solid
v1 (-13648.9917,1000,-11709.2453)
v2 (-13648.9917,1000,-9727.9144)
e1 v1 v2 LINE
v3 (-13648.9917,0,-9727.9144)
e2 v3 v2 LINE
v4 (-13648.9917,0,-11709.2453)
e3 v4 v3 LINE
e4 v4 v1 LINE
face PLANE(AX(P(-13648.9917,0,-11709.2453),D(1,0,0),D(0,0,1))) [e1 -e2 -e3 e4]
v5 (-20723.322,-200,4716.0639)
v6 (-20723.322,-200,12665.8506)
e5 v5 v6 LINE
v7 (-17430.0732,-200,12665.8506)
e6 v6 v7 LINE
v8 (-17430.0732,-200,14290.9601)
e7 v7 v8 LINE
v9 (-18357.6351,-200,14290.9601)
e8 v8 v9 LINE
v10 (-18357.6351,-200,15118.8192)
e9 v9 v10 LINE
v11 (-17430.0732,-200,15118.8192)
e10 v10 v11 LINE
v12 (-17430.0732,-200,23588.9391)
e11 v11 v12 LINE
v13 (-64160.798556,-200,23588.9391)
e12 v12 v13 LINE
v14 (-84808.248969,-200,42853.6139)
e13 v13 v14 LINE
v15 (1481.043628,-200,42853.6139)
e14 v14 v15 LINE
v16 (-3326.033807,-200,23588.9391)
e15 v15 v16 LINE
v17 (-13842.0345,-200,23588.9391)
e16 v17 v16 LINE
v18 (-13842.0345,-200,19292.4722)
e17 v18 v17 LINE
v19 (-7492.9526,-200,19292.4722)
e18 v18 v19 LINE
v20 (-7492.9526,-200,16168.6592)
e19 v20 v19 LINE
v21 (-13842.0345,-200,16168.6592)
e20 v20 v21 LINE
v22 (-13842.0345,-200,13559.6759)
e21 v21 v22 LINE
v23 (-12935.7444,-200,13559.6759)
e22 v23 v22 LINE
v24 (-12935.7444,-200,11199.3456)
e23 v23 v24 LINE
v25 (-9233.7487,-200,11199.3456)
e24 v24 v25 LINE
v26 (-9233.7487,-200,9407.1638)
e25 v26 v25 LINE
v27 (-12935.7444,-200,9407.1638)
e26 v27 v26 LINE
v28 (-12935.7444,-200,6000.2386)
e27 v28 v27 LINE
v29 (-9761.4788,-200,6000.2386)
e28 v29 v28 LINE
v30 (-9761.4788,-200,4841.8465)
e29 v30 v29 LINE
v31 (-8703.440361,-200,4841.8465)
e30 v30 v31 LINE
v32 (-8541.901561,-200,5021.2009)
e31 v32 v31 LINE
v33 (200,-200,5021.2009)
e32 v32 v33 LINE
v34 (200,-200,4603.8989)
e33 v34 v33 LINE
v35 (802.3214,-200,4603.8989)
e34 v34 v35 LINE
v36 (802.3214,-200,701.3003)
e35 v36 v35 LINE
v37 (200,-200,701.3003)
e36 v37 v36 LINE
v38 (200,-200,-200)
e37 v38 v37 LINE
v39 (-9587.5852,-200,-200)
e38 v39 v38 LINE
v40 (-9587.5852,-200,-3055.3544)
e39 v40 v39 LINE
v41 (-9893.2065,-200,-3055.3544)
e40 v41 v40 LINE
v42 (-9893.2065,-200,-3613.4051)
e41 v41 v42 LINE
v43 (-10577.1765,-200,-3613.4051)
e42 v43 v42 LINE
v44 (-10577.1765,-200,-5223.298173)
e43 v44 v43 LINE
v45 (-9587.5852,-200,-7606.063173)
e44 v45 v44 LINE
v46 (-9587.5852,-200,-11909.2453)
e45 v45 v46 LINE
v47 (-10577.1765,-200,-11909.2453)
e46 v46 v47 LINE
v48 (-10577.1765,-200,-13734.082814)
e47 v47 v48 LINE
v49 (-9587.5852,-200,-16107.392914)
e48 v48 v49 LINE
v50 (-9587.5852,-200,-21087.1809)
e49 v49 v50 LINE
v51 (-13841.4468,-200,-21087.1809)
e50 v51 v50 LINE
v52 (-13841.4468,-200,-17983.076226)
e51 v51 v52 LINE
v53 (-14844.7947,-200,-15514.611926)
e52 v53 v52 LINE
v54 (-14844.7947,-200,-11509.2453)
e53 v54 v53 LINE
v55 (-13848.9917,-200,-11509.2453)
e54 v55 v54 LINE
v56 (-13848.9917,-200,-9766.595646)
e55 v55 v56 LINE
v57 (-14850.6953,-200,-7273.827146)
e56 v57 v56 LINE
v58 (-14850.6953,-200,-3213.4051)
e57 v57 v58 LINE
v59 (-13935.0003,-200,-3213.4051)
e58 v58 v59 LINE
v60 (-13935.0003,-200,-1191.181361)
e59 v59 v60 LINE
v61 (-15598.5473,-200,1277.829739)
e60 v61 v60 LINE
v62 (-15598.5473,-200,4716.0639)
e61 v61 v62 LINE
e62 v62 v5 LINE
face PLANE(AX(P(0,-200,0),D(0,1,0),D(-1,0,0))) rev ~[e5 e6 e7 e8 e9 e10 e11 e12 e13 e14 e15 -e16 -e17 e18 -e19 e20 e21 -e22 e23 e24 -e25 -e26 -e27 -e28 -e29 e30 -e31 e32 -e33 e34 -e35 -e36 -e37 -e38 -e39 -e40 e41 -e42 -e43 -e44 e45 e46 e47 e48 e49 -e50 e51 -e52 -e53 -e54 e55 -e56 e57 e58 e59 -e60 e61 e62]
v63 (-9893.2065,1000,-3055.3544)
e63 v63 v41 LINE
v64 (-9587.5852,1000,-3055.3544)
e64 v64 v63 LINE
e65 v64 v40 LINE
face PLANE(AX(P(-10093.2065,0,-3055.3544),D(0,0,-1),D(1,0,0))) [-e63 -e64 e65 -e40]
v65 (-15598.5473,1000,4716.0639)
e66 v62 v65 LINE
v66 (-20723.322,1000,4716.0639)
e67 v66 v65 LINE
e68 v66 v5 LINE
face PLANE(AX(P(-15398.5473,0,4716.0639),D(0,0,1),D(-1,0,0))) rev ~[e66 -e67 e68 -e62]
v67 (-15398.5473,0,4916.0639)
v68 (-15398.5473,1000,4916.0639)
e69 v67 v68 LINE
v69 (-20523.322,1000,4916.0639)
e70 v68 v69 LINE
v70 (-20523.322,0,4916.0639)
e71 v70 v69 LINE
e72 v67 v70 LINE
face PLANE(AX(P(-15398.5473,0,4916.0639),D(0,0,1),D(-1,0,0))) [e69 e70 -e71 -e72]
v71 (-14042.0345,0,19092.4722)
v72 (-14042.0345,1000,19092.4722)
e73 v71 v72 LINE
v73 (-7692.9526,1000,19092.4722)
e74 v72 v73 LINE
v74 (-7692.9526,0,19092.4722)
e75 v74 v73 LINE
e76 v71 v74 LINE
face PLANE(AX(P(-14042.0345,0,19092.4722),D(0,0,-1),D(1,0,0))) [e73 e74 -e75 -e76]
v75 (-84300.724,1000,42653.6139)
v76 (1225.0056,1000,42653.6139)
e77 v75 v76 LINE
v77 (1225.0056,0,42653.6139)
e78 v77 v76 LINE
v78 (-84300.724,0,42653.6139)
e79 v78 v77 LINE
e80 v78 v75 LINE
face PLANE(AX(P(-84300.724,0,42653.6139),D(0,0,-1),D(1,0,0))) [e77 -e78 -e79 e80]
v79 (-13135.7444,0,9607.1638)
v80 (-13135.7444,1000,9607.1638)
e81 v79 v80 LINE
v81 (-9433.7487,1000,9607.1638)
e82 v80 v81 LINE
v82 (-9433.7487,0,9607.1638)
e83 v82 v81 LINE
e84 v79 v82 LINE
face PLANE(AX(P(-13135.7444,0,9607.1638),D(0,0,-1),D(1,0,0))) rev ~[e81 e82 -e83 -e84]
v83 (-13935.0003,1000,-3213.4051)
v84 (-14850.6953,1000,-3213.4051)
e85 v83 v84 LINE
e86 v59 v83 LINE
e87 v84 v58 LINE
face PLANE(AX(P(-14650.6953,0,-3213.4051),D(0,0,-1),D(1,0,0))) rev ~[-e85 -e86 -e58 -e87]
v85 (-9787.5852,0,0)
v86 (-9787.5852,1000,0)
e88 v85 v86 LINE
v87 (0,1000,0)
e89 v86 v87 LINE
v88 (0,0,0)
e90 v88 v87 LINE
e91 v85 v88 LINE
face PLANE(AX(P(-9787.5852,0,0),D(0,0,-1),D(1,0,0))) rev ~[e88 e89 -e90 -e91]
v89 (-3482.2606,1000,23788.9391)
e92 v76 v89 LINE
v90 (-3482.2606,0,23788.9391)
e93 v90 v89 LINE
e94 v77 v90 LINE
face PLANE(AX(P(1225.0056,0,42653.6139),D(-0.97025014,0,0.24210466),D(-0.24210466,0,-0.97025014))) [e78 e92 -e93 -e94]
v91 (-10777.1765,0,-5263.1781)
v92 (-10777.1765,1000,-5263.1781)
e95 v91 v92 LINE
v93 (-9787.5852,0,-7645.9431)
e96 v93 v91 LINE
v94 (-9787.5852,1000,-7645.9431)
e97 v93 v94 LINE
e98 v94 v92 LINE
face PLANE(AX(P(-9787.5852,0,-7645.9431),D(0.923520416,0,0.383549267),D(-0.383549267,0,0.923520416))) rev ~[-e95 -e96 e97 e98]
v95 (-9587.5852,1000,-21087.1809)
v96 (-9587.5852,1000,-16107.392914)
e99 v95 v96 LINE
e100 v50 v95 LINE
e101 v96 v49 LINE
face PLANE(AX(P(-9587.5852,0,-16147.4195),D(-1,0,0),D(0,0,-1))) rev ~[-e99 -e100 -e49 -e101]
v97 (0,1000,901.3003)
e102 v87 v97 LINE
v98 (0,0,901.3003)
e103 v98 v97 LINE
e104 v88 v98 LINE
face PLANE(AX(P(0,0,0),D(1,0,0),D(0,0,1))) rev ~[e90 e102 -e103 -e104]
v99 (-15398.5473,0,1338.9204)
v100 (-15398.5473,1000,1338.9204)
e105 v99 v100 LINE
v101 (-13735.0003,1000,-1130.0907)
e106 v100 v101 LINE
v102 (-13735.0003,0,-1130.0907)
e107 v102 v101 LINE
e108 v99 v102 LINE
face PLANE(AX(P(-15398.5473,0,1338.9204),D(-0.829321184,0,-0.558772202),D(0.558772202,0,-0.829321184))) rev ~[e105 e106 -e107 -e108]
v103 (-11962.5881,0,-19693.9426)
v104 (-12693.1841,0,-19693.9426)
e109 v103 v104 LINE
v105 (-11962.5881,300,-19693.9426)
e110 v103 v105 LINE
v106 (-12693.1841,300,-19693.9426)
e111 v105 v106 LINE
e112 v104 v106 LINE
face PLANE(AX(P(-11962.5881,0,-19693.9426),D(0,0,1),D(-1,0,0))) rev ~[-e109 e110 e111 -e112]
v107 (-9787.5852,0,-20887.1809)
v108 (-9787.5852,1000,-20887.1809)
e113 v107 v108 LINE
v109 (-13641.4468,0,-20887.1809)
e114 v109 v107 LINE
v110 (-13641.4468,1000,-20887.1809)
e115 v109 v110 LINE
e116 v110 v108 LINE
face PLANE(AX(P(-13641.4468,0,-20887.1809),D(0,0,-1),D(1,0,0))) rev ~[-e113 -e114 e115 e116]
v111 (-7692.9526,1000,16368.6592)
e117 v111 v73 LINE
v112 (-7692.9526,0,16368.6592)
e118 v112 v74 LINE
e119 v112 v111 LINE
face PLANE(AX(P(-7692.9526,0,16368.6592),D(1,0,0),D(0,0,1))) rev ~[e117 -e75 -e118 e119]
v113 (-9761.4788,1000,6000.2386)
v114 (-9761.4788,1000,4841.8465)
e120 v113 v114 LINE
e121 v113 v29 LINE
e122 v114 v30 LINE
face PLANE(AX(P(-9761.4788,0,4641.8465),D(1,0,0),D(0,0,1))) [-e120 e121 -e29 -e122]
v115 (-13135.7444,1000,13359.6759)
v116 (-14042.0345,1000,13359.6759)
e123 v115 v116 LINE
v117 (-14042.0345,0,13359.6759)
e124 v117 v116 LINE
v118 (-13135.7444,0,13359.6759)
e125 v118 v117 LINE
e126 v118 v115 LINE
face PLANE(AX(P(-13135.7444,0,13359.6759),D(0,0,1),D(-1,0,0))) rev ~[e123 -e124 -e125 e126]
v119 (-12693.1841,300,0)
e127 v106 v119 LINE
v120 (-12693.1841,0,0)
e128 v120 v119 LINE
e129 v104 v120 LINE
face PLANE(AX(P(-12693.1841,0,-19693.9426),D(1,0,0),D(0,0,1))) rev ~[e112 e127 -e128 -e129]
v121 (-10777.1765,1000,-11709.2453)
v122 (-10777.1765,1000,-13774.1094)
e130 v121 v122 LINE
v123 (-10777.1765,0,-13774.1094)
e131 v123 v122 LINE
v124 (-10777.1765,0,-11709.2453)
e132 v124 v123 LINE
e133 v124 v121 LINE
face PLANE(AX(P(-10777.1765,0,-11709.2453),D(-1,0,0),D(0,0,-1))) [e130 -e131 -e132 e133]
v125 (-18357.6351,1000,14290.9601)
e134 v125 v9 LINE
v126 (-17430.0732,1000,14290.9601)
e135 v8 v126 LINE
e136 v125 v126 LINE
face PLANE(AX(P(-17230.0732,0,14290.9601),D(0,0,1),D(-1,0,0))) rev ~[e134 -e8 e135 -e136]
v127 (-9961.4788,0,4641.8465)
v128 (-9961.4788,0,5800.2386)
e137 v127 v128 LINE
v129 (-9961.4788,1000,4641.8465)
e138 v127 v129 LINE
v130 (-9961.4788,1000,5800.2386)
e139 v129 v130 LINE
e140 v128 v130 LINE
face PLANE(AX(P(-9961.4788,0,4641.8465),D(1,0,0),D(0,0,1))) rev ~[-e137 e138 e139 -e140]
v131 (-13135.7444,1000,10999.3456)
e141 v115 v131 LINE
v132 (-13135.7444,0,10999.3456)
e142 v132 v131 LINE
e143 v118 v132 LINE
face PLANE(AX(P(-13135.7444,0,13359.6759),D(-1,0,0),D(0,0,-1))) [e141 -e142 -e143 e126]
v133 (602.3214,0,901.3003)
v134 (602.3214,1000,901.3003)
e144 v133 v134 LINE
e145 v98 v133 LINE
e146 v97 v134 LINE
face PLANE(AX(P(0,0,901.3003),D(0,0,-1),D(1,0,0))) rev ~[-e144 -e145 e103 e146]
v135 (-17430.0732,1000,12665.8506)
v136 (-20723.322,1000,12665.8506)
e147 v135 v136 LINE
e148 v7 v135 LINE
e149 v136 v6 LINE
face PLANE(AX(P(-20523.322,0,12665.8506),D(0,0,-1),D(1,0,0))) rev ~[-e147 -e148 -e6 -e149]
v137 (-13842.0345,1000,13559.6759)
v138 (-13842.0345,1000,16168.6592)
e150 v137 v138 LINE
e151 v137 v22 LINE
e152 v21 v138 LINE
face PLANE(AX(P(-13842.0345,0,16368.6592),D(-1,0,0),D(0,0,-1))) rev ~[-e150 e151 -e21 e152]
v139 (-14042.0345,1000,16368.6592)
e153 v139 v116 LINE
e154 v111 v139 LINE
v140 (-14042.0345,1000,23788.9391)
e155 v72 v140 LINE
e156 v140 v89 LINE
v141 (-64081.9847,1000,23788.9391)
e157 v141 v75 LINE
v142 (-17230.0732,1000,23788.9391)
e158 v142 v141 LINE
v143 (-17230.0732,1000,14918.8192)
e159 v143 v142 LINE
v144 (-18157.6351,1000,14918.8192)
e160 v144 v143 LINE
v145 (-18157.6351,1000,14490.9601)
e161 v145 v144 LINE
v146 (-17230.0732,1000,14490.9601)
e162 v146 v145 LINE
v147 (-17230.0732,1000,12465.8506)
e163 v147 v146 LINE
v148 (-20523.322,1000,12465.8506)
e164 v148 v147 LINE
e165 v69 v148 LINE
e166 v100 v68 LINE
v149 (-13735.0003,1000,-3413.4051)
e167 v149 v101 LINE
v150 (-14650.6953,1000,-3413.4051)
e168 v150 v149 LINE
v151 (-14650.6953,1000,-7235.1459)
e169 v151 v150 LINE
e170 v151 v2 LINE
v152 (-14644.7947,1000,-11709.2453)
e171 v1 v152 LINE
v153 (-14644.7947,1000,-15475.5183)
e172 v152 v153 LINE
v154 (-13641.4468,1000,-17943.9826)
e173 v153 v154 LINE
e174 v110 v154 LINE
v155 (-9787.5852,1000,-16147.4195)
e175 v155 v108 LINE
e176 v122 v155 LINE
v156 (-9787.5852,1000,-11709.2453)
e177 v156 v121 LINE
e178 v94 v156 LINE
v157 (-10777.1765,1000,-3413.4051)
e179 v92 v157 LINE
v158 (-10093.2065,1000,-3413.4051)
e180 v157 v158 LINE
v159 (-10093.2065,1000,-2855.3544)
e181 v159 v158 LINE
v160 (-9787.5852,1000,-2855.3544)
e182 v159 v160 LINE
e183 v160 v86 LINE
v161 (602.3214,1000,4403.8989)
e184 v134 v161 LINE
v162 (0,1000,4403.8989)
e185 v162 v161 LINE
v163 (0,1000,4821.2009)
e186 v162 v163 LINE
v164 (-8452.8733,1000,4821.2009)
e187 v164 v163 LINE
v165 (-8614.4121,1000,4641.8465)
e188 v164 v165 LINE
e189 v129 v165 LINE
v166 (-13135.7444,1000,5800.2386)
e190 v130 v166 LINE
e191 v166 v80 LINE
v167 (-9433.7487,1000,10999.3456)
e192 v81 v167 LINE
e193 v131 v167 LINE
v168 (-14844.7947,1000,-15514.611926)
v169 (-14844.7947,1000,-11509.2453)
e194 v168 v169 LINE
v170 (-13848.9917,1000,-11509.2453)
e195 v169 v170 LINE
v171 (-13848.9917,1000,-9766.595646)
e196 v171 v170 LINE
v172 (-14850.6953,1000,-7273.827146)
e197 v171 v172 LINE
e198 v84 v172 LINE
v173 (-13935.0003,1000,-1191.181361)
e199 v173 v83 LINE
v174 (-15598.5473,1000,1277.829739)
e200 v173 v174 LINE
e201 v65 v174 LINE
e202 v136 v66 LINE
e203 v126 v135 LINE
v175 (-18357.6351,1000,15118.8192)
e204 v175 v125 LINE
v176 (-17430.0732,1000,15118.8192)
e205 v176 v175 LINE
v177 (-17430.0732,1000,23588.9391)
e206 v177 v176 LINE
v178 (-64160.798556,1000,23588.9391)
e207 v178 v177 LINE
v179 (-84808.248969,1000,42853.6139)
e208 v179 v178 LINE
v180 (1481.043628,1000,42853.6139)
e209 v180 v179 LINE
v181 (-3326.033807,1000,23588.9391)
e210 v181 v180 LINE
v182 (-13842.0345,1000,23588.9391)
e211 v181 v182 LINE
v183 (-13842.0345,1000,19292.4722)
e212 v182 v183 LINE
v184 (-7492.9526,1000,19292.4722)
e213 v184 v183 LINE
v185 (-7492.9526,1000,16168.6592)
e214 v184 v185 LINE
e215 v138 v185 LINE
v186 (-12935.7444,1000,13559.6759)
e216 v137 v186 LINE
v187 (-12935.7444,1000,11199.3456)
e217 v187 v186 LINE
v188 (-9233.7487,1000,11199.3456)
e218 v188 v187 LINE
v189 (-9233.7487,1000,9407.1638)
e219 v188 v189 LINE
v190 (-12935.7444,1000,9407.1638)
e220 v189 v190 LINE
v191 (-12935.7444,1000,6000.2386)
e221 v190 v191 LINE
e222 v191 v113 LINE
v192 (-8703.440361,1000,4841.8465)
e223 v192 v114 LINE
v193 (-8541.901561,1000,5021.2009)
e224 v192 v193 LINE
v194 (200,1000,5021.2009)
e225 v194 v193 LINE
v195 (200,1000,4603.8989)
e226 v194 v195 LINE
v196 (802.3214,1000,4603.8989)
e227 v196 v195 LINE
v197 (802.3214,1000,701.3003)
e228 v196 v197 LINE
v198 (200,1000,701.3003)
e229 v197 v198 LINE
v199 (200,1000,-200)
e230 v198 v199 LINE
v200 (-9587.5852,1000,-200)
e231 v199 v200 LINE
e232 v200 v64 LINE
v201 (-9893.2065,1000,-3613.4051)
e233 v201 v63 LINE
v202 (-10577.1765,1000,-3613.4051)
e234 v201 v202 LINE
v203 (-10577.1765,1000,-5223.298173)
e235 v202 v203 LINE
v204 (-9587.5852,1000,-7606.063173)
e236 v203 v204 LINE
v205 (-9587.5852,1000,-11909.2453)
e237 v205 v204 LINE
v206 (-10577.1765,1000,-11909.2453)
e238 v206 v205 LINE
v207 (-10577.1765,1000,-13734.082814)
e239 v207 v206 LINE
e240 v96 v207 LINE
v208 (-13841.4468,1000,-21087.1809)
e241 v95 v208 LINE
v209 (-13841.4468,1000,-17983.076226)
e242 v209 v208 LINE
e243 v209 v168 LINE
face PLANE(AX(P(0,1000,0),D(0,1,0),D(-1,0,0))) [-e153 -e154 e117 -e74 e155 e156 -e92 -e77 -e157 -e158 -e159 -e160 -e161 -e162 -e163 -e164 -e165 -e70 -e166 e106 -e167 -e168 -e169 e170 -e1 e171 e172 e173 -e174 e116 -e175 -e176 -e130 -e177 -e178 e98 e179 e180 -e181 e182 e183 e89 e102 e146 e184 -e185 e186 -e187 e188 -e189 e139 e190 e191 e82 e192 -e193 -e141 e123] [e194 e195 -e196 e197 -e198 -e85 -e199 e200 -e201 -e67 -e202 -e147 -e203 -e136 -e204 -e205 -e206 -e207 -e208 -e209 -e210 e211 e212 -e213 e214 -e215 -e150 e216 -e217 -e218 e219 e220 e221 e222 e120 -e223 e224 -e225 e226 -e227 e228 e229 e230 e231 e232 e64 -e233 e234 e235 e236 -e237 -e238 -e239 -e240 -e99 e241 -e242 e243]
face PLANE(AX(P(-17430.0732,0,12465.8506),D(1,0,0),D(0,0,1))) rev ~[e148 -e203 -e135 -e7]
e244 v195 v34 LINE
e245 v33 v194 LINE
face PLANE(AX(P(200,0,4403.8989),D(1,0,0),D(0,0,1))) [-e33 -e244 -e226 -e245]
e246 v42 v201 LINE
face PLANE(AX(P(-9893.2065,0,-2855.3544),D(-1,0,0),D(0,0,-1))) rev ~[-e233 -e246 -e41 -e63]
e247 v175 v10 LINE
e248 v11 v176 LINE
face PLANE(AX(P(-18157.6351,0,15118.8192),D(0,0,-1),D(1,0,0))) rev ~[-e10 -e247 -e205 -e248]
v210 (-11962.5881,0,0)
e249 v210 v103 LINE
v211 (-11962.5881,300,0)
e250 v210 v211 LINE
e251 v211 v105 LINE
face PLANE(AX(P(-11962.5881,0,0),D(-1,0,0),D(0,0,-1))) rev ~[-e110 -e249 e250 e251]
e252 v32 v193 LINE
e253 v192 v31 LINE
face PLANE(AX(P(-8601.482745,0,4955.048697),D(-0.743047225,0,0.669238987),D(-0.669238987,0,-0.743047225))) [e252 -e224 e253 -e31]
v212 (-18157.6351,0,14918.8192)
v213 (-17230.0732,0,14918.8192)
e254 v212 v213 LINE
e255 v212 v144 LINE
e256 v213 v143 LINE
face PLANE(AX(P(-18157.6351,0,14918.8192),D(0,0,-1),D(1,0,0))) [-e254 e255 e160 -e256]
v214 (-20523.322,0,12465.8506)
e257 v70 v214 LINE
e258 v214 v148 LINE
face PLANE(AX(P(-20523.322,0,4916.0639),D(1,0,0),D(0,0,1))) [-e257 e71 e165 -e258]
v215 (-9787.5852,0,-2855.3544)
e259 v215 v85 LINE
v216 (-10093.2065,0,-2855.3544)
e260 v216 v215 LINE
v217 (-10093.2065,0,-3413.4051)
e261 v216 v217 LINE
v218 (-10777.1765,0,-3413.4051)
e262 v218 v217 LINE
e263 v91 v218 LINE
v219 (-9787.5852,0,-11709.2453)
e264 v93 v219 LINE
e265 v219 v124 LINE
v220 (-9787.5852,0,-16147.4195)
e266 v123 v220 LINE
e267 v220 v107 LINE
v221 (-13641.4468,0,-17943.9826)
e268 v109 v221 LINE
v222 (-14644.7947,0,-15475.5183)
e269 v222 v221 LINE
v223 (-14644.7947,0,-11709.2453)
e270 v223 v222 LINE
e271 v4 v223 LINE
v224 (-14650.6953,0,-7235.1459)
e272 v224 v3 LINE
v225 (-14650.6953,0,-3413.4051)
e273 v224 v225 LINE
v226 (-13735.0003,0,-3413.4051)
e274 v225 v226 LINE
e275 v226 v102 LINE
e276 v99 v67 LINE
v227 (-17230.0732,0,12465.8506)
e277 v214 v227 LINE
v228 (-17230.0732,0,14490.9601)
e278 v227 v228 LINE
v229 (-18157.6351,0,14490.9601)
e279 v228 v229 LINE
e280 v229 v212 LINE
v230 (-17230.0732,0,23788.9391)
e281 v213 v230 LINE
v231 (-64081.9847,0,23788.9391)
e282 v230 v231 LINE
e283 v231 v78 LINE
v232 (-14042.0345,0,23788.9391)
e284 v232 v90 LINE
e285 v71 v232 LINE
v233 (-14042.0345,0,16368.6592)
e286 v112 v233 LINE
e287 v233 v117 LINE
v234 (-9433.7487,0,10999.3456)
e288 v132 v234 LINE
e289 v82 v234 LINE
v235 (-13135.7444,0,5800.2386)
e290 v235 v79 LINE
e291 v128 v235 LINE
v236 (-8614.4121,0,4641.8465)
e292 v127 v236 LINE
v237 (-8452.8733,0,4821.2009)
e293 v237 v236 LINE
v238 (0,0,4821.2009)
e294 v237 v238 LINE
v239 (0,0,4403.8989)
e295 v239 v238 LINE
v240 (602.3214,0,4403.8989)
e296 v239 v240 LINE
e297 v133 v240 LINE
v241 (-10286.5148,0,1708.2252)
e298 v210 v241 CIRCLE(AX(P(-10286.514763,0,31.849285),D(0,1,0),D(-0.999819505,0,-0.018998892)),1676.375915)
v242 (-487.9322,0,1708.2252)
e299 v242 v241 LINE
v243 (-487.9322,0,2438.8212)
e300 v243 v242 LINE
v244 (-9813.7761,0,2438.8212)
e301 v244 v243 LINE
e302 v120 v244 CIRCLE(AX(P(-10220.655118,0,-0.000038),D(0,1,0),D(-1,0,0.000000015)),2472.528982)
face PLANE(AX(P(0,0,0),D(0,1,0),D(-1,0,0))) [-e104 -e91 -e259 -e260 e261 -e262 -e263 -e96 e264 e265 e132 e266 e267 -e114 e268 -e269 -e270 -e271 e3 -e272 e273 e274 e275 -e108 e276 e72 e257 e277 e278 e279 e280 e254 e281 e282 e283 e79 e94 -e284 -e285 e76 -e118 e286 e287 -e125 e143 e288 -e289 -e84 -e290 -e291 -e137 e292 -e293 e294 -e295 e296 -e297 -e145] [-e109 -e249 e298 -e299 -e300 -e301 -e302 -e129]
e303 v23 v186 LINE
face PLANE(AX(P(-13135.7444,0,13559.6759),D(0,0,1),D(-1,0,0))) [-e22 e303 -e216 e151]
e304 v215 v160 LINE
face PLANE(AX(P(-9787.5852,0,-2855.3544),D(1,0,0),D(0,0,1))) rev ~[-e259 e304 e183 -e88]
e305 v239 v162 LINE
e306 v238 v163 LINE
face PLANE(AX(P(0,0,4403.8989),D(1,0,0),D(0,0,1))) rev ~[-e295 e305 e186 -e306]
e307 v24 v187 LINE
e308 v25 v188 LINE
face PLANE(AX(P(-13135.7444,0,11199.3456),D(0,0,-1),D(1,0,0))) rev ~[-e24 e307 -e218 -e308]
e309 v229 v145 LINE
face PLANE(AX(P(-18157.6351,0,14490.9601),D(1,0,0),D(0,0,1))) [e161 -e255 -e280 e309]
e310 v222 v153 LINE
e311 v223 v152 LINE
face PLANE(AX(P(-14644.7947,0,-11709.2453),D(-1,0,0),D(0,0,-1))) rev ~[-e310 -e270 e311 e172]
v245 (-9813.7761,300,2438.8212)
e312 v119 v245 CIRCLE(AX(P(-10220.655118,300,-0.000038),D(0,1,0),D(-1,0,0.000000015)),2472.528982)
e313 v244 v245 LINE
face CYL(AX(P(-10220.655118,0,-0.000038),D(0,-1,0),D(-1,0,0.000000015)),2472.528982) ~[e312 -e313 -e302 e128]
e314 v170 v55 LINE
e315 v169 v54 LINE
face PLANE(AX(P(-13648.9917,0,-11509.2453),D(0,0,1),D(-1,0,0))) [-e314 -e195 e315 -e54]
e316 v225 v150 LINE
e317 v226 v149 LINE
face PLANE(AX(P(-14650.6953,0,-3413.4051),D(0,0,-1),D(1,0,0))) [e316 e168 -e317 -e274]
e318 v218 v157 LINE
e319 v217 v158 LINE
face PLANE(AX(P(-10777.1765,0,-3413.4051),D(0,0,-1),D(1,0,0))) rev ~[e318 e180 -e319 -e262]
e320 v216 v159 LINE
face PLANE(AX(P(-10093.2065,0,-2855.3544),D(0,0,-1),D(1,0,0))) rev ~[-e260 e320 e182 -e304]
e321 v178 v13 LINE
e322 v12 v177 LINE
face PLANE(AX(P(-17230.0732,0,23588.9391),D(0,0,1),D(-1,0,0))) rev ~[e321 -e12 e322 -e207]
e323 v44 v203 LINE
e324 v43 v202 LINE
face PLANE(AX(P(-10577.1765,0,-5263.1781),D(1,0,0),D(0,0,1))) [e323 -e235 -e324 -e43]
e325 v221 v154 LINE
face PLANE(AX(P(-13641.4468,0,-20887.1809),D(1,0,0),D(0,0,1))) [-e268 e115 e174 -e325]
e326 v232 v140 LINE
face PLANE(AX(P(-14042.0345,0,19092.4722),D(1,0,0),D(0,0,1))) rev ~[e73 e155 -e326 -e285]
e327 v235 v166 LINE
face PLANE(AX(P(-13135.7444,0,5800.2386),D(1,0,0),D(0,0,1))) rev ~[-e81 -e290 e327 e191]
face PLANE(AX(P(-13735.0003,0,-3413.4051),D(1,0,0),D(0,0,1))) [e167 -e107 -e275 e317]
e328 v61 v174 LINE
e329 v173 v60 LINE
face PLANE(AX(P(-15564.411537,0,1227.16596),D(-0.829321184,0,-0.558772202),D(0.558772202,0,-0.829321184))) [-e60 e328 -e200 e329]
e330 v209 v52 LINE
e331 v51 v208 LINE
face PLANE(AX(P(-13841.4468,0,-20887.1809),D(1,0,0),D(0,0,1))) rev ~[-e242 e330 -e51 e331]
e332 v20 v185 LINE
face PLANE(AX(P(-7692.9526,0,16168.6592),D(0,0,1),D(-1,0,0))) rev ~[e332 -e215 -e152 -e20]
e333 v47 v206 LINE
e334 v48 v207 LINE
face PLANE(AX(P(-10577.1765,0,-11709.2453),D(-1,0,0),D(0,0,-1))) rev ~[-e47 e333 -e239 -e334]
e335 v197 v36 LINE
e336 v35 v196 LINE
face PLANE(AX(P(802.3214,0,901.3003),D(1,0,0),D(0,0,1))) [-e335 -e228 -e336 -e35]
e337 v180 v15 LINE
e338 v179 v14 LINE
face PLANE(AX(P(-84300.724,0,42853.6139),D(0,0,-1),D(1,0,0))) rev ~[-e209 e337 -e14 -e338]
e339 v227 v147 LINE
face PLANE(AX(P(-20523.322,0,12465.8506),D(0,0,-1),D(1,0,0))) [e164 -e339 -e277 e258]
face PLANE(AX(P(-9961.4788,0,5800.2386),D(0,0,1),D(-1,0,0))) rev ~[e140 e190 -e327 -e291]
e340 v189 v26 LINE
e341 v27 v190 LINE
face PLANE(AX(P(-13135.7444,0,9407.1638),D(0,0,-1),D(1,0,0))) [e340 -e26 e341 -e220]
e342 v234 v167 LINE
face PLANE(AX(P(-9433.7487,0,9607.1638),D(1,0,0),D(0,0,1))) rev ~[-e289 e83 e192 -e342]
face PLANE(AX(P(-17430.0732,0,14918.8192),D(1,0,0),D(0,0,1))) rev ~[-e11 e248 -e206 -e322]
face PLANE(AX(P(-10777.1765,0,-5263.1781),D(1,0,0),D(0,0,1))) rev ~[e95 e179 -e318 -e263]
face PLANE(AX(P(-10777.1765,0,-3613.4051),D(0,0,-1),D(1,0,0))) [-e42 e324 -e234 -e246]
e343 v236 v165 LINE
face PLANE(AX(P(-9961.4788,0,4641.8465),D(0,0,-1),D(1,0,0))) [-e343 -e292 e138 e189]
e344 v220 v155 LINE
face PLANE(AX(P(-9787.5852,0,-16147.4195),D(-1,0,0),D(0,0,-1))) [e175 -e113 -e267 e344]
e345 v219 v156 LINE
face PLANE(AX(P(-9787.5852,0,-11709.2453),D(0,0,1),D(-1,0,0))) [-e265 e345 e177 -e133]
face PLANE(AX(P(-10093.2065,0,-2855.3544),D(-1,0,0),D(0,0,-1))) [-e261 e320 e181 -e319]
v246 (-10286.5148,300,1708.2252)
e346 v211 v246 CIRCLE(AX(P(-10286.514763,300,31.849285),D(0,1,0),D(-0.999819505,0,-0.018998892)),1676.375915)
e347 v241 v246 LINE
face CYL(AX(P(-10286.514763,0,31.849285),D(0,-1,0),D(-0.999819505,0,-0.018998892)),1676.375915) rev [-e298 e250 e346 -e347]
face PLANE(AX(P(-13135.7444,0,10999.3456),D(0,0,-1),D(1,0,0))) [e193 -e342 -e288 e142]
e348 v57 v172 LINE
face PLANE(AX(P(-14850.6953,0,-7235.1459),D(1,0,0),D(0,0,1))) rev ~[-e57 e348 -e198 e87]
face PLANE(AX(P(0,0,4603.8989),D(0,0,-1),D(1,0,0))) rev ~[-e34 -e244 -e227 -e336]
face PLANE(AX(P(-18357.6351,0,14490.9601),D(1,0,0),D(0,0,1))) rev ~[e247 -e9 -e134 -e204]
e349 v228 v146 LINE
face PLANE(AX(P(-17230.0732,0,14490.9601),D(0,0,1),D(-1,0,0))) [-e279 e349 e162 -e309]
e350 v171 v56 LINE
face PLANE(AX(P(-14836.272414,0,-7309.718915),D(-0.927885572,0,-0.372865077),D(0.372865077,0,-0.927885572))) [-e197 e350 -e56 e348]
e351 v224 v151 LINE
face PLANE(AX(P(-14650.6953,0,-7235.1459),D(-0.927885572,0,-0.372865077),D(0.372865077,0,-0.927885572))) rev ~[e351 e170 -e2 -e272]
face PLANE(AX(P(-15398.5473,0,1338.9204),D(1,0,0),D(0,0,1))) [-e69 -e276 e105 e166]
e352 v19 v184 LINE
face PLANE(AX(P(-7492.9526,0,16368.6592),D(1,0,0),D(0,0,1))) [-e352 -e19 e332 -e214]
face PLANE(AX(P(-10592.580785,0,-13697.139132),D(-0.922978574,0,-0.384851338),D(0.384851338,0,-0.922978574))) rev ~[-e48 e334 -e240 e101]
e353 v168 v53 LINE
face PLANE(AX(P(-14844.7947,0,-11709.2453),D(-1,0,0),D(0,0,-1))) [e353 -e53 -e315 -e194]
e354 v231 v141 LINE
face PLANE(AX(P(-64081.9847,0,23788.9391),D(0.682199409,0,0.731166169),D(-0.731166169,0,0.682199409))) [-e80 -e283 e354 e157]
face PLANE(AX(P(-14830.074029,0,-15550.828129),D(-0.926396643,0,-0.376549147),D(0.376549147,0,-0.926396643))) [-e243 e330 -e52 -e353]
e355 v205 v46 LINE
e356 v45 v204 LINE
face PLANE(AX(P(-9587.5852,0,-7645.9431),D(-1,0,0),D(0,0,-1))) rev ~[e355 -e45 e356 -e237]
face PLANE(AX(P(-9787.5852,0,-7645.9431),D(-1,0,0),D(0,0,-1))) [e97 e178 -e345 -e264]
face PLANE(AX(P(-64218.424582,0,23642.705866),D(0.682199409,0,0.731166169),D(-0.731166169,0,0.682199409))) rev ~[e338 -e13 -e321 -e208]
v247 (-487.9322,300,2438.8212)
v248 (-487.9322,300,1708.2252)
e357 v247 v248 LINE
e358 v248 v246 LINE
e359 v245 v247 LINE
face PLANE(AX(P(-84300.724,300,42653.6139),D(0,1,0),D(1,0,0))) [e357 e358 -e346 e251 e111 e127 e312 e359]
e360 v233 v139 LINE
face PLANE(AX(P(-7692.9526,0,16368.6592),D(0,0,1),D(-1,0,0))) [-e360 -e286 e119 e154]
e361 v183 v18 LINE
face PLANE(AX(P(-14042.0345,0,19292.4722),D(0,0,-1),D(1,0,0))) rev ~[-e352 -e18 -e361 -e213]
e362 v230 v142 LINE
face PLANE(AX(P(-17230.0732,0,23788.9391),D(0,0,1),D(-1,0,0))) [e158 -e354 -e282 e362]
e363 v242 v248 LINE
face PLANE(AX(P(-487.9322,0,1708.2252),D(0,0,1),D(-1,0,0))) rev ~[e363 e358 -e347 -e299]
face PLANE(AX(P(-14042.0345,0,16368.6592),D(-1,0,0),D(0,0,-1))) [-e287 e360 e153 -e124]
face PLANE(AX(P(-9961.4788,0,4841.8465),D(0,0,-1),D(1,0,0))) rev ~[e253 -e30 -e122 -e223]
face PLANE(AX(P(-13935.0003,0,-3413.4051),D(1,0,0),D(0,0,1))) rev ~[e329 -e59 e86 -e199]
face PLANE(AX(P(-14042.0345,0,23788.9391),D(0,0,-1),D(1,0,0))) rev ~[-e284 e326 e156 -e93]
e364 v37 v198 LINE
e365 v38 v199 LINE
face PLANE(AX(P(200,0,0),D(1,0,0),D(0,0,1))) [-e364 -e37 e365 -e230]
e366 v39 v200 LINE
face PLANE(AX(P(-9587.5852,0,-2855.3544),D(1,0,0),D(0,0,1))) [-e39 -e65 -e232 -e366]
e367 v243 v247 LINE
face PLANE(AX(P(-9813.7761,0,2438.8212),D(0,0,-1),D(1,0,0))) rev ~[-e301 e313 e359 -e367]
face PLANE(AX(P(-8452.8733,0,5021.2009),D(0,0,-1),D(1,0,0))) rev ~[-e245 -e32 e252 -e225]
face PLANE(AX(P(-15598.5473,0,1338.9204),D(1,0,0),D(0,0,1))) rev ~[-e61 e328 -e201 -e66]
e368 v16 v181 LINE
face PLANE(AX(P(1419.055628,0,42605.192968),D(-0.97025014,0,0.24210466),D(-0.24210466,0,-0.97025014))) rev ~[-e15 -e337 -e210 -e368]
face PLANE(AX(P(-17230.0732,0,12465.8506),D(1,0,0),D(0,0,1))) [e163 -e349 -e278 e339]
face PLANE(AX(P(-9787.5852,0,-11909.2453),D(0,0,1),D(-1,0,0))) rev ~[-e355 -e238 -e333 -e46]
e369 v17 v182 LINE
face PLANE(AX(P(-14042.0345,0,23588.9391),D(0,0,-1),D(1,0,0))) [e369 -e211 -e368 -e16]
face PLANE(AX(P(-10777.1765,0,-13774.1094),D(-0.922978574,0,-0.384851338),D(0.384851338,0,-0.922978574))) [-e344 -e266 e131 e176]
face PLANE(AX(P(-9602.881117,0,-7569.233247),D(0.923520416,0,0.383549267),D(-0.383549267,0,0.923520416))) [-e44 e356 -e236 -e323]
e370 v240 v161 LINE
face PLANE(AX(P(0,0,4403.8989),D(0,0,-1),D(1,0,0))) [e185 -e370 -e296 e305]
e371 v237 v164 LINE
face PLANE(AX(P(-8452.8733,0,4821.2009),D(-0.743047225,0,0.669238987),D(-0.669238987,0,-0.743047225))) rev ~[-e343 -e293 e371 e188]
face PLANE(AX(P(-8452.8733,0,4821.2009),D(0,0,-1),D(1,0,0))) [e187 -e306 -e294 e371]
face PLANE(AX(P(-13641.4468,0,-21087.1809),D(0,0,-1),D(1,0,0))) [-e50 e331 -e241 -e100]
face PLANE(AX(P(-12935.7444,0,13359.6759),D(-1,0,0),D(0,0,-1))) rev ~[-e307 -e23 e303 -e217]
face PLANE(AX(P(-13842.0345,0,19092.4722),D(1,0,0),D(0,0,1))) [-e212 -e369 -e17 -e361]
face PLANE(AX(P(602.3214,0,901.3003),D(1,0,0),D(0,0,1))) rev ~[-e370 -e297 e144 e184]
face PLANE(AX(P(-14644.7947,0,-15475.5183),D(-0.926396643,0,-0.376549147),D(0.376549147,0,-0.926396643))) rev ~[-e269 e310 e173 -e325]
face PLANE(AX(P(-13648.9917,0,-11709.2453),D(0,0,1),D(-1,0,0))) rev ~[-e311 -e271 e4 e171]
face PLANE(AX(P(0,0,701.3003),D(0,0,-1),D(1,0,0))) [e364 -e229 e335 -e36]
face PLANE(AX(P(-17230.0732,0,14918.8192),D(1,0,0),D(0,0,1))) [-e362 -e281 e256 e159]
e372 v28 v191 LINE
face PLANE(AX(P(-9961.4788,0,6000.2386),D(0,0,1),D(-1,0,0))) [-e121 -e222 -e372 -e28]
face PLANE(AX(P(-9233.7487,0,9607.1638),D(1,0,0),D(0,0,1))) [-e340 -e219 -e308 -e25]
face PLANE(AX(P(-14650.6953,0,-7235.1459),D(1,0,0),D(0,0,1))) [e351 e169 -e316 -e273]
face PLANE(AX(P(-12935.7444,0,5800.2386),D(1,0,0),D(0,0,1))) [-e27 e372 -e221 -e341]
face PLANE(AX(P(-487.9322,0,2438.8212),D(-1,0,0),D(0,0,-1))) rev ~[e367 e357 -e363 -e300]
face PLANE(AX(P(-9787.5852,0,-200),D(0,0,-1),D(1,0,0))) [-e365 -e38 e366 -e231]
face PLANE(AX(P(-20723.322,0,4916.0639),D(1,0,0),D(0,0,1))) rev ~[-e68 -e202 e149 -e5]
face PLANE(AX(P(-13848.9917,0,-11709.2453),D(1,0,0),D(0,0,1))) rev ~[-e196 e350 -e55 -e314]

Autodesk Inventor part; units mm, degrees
ref_plane "YZ Plane" through (0, 0, 0) normal (1, 0, 0) x (0, 1, 0)
ref_plane "XZ Plane" through (0, 0, 0) normal (0, 1, 0) x (-1, 0, 0)
ref_plane "XY Plane" through (0, 0, 0) normal (0, 0, 1) x (1, 0, 0)
sketch "Sketch1" plane through (0, 0, 0) normal (0, 1, 0) x (-1, 0, 0)
  line L0 (0, 0) -> (0, 901.3003)
  line L1 (9787.5852, 0) -> (0, 0)
  line L2 (0, 901.3003) -> (-602.3214, 901.3003)
  line L3 (-602.3214, 901.3003) -> (-602.3214, 4403.8989)
  line L4 (0, 4403.8989) -> (-602.3214, 4403.8989)
  line L5 (0, 4403.8989) -> (0, 4821.2009)
  line L6 (8452.8733, 4821.2009) -> (0, 4821.2009)
  line L7 (8452.8733, 4821.2009) -> (8614.4121, 4641.8465)
  line L8 (9961.4788, 4641.8465) -> (8614.4121, 4641.8465)
  line L9 (9961.4788, 4641.8465) -> (9961.4788, 5800.2386)
  line L10 (9961.4788, 5800.2386) -> (13135.7444, 5800.2386)
  line L11 (13135.7444, 5800.2386) -> (13135.7444, 9607.1638)
  line L12 (13135.7444, 5800.2386) -> (9961.4788, 5800.2386)
  line L13 (13135.7444, 9607.1638) -> (13135.7444, 5800.2386)
  line L14 (13135.7444, 9607.1638) -> (9433.7487, 9607.1638)
  line L15 (9433.7487, 9607.1638) -> (9433.7487, 10999.3456)
  line L16 (13135.7444, 10999.3456) -> (9433.7487, 10999.3456)
  line L17 (13135.7444, 13359.6759) -> (13135.7444, 10999.3456)
  line L18 (13135.7444, 13359.6759) -> (14042.0345, 13359.6759)
  line L19 (14042.0345, 16368.6592) -> (14042.0345, 13359.6759)
  line L20 (7692.9526, 16368.6592) -> (14042.0345, 16368.6592)
  line L21 (7692.9526, 16368.6592) -> (7692.9526, 19092.4722)
  line L22 (14042.0345, 19092.4722) -> (7692.9526, 19092.4722)
  line L23 (14042.0345, 19092.4722) -> (14042.0345, 23788.9391)
  line L24 (14042.0345, 23788.9391) -> (3482.2606, 23788.9391)
  line L25 (-1225.0056, 42653.6139) -> (3482.2606, 23788.9391)
  line L26 (84300.724, 42653.6139) -> (-1225.0056, 42653.6139)
  line L27 (64081.9847, 23788.9391) -> (84300.724, 42653.6139)
  line L28 (17230.0732, 23788.9391) -> (64081.9847, 23788.9391)
  line L29 (17230.0732, 14918.8192) -> (17230.0732, 23788.9391)
  line L30 (18157.6351, 14918.8192) -> (17230.0732, 14918.8192)
  line L31 (18157.6351, 14490.9601) -> (18157.6351, 14918.8192)
  line L32 (17230.0732, 14490.9601) -> (18157.6351, 14490.9601)
  line L33 (17230.0732, 12465.8506) -> (17230.0732, 14490.9601)
  line L34 (20523.322, 12465.8506) -> (17230.0732, 12465.8506)
  line L35 (20523.322, 4916.0639) -> (20523.322, 12465.8506)
  line L36 (15398.5473, 4916.0639) -> (20523.322, 4916.0639)
  line L37 (15398.5473, 1338.9204) -> (15398.5473, 4916.0639)
  line L38 (15398.5473, 1338.9204) -> (13735.0003, -1130.0907)
  line L39 (13735.0003, -3413.4051) -> (13735.0003, -1130.0907)
  line L40 (14650.6953, -3413.4051) -> (13735.0003, -3413.4051)
  line L41 (14650.6953, -7235.1459) -> (14650.6953, -3413.4051)
  line L42 (14650.6953, -7235.1459) -> (13648.9917, -9727.9144)
  line L43 (13648.9917, -11709.2453) -> (13648.9917, -9727.9144)
  line L44 (13648.9917, -11709.2453) -> (14644.7947, -11709.2453)
  line L45 (14644.7947, -11709.2453) -> (14644.7947, -15475.5183)
  line L46 (14644.7947, -15475.5183) -> (13641.4468, -17943.9826)
  line L47 (13641.4468, -20887.1809) -> (13641.4468, -17943.9826)
  line L48 (13641.4468, -20887.1809) -> (9787.5852, -20887.1809)
  line L49 (9787.5852, -16147.4195) -> (9787.5852, -20887.1809)
  line L50 (10777.1765, -13774.1094) -> (9787.5852, -16147.4195)
  line L51 (10777.1765, -11709.2453) -> (10777.1765, -13774.1094)
  line L52 (9787.5852, -11709.2453) -> (10777.1765, -11709.2453)
  line L53 (9787.5852, -7645.9431) -> (9787.5852, -11709.2453)
  line L54 (9787.5852, -7645.9431) -> (10777.1765, -5263.1781)
  line L55 (10777.1765, -5263.1781) -> (10777.1765, -3413.4051)
  line L56 (10777.1765, -3413.4051) -> (10093.2065, -3413.4051)
  line L57 (10093.2065, -2855.3544) -> (10093.2065, -3413.4051)
  line L58 (10093.2065, -2855.3544) -> (9787.5852, -2855.3544)
  line L59 (9787.5852, -2855.3544) -> (9787.5852, 0)
extrude "Extrusion1" add sketch "Sketch1" along normal blind 1000
shell "Shell1" thickness 200 outward yes removed faces 1 at (-49052.5677, 1000, 36365.389)
sketch "Sketch2" plane through (-84300.724, 0, 42653.6139) normal (0, 1, 0) x (1, 0, 0)
  line L0 (83812.7918, 40945.3887) -> (74014.2092, 40945.3887)
  arc A0 (72338.1359, 42653.6139) -> (74014.2092, 40945.3887) centre (74014.2092, 42621.7646) ccw
  line L1 (72338.1359, 42653.6139) -> (72338.1359, 62347.5565)
  line L2 (72338.1359, 62347.5565) -> (71607.5399, 62347.5565)
  line L3 (71607.5399, 62347.5565) -> (71607.5399, 42653.6139)
  arc A1 (71607.5399, 42653.6139) -> (74486.9479, 40214.7927) centre (74080.0688, 42653.6139) ccw
  line L4 (74486.9479, 40214.7927) -> (83812.7918, 40214.7927)
  line L5 (83812.7918, 40214.7927) -> (83812.7918, 40945.3887)
  point P0 (84300.724, 42653.6139)
extrude "Extrusion2" add sketch "Sketch2" along normal blind 300
properties part number "CIT-Floor-7"
